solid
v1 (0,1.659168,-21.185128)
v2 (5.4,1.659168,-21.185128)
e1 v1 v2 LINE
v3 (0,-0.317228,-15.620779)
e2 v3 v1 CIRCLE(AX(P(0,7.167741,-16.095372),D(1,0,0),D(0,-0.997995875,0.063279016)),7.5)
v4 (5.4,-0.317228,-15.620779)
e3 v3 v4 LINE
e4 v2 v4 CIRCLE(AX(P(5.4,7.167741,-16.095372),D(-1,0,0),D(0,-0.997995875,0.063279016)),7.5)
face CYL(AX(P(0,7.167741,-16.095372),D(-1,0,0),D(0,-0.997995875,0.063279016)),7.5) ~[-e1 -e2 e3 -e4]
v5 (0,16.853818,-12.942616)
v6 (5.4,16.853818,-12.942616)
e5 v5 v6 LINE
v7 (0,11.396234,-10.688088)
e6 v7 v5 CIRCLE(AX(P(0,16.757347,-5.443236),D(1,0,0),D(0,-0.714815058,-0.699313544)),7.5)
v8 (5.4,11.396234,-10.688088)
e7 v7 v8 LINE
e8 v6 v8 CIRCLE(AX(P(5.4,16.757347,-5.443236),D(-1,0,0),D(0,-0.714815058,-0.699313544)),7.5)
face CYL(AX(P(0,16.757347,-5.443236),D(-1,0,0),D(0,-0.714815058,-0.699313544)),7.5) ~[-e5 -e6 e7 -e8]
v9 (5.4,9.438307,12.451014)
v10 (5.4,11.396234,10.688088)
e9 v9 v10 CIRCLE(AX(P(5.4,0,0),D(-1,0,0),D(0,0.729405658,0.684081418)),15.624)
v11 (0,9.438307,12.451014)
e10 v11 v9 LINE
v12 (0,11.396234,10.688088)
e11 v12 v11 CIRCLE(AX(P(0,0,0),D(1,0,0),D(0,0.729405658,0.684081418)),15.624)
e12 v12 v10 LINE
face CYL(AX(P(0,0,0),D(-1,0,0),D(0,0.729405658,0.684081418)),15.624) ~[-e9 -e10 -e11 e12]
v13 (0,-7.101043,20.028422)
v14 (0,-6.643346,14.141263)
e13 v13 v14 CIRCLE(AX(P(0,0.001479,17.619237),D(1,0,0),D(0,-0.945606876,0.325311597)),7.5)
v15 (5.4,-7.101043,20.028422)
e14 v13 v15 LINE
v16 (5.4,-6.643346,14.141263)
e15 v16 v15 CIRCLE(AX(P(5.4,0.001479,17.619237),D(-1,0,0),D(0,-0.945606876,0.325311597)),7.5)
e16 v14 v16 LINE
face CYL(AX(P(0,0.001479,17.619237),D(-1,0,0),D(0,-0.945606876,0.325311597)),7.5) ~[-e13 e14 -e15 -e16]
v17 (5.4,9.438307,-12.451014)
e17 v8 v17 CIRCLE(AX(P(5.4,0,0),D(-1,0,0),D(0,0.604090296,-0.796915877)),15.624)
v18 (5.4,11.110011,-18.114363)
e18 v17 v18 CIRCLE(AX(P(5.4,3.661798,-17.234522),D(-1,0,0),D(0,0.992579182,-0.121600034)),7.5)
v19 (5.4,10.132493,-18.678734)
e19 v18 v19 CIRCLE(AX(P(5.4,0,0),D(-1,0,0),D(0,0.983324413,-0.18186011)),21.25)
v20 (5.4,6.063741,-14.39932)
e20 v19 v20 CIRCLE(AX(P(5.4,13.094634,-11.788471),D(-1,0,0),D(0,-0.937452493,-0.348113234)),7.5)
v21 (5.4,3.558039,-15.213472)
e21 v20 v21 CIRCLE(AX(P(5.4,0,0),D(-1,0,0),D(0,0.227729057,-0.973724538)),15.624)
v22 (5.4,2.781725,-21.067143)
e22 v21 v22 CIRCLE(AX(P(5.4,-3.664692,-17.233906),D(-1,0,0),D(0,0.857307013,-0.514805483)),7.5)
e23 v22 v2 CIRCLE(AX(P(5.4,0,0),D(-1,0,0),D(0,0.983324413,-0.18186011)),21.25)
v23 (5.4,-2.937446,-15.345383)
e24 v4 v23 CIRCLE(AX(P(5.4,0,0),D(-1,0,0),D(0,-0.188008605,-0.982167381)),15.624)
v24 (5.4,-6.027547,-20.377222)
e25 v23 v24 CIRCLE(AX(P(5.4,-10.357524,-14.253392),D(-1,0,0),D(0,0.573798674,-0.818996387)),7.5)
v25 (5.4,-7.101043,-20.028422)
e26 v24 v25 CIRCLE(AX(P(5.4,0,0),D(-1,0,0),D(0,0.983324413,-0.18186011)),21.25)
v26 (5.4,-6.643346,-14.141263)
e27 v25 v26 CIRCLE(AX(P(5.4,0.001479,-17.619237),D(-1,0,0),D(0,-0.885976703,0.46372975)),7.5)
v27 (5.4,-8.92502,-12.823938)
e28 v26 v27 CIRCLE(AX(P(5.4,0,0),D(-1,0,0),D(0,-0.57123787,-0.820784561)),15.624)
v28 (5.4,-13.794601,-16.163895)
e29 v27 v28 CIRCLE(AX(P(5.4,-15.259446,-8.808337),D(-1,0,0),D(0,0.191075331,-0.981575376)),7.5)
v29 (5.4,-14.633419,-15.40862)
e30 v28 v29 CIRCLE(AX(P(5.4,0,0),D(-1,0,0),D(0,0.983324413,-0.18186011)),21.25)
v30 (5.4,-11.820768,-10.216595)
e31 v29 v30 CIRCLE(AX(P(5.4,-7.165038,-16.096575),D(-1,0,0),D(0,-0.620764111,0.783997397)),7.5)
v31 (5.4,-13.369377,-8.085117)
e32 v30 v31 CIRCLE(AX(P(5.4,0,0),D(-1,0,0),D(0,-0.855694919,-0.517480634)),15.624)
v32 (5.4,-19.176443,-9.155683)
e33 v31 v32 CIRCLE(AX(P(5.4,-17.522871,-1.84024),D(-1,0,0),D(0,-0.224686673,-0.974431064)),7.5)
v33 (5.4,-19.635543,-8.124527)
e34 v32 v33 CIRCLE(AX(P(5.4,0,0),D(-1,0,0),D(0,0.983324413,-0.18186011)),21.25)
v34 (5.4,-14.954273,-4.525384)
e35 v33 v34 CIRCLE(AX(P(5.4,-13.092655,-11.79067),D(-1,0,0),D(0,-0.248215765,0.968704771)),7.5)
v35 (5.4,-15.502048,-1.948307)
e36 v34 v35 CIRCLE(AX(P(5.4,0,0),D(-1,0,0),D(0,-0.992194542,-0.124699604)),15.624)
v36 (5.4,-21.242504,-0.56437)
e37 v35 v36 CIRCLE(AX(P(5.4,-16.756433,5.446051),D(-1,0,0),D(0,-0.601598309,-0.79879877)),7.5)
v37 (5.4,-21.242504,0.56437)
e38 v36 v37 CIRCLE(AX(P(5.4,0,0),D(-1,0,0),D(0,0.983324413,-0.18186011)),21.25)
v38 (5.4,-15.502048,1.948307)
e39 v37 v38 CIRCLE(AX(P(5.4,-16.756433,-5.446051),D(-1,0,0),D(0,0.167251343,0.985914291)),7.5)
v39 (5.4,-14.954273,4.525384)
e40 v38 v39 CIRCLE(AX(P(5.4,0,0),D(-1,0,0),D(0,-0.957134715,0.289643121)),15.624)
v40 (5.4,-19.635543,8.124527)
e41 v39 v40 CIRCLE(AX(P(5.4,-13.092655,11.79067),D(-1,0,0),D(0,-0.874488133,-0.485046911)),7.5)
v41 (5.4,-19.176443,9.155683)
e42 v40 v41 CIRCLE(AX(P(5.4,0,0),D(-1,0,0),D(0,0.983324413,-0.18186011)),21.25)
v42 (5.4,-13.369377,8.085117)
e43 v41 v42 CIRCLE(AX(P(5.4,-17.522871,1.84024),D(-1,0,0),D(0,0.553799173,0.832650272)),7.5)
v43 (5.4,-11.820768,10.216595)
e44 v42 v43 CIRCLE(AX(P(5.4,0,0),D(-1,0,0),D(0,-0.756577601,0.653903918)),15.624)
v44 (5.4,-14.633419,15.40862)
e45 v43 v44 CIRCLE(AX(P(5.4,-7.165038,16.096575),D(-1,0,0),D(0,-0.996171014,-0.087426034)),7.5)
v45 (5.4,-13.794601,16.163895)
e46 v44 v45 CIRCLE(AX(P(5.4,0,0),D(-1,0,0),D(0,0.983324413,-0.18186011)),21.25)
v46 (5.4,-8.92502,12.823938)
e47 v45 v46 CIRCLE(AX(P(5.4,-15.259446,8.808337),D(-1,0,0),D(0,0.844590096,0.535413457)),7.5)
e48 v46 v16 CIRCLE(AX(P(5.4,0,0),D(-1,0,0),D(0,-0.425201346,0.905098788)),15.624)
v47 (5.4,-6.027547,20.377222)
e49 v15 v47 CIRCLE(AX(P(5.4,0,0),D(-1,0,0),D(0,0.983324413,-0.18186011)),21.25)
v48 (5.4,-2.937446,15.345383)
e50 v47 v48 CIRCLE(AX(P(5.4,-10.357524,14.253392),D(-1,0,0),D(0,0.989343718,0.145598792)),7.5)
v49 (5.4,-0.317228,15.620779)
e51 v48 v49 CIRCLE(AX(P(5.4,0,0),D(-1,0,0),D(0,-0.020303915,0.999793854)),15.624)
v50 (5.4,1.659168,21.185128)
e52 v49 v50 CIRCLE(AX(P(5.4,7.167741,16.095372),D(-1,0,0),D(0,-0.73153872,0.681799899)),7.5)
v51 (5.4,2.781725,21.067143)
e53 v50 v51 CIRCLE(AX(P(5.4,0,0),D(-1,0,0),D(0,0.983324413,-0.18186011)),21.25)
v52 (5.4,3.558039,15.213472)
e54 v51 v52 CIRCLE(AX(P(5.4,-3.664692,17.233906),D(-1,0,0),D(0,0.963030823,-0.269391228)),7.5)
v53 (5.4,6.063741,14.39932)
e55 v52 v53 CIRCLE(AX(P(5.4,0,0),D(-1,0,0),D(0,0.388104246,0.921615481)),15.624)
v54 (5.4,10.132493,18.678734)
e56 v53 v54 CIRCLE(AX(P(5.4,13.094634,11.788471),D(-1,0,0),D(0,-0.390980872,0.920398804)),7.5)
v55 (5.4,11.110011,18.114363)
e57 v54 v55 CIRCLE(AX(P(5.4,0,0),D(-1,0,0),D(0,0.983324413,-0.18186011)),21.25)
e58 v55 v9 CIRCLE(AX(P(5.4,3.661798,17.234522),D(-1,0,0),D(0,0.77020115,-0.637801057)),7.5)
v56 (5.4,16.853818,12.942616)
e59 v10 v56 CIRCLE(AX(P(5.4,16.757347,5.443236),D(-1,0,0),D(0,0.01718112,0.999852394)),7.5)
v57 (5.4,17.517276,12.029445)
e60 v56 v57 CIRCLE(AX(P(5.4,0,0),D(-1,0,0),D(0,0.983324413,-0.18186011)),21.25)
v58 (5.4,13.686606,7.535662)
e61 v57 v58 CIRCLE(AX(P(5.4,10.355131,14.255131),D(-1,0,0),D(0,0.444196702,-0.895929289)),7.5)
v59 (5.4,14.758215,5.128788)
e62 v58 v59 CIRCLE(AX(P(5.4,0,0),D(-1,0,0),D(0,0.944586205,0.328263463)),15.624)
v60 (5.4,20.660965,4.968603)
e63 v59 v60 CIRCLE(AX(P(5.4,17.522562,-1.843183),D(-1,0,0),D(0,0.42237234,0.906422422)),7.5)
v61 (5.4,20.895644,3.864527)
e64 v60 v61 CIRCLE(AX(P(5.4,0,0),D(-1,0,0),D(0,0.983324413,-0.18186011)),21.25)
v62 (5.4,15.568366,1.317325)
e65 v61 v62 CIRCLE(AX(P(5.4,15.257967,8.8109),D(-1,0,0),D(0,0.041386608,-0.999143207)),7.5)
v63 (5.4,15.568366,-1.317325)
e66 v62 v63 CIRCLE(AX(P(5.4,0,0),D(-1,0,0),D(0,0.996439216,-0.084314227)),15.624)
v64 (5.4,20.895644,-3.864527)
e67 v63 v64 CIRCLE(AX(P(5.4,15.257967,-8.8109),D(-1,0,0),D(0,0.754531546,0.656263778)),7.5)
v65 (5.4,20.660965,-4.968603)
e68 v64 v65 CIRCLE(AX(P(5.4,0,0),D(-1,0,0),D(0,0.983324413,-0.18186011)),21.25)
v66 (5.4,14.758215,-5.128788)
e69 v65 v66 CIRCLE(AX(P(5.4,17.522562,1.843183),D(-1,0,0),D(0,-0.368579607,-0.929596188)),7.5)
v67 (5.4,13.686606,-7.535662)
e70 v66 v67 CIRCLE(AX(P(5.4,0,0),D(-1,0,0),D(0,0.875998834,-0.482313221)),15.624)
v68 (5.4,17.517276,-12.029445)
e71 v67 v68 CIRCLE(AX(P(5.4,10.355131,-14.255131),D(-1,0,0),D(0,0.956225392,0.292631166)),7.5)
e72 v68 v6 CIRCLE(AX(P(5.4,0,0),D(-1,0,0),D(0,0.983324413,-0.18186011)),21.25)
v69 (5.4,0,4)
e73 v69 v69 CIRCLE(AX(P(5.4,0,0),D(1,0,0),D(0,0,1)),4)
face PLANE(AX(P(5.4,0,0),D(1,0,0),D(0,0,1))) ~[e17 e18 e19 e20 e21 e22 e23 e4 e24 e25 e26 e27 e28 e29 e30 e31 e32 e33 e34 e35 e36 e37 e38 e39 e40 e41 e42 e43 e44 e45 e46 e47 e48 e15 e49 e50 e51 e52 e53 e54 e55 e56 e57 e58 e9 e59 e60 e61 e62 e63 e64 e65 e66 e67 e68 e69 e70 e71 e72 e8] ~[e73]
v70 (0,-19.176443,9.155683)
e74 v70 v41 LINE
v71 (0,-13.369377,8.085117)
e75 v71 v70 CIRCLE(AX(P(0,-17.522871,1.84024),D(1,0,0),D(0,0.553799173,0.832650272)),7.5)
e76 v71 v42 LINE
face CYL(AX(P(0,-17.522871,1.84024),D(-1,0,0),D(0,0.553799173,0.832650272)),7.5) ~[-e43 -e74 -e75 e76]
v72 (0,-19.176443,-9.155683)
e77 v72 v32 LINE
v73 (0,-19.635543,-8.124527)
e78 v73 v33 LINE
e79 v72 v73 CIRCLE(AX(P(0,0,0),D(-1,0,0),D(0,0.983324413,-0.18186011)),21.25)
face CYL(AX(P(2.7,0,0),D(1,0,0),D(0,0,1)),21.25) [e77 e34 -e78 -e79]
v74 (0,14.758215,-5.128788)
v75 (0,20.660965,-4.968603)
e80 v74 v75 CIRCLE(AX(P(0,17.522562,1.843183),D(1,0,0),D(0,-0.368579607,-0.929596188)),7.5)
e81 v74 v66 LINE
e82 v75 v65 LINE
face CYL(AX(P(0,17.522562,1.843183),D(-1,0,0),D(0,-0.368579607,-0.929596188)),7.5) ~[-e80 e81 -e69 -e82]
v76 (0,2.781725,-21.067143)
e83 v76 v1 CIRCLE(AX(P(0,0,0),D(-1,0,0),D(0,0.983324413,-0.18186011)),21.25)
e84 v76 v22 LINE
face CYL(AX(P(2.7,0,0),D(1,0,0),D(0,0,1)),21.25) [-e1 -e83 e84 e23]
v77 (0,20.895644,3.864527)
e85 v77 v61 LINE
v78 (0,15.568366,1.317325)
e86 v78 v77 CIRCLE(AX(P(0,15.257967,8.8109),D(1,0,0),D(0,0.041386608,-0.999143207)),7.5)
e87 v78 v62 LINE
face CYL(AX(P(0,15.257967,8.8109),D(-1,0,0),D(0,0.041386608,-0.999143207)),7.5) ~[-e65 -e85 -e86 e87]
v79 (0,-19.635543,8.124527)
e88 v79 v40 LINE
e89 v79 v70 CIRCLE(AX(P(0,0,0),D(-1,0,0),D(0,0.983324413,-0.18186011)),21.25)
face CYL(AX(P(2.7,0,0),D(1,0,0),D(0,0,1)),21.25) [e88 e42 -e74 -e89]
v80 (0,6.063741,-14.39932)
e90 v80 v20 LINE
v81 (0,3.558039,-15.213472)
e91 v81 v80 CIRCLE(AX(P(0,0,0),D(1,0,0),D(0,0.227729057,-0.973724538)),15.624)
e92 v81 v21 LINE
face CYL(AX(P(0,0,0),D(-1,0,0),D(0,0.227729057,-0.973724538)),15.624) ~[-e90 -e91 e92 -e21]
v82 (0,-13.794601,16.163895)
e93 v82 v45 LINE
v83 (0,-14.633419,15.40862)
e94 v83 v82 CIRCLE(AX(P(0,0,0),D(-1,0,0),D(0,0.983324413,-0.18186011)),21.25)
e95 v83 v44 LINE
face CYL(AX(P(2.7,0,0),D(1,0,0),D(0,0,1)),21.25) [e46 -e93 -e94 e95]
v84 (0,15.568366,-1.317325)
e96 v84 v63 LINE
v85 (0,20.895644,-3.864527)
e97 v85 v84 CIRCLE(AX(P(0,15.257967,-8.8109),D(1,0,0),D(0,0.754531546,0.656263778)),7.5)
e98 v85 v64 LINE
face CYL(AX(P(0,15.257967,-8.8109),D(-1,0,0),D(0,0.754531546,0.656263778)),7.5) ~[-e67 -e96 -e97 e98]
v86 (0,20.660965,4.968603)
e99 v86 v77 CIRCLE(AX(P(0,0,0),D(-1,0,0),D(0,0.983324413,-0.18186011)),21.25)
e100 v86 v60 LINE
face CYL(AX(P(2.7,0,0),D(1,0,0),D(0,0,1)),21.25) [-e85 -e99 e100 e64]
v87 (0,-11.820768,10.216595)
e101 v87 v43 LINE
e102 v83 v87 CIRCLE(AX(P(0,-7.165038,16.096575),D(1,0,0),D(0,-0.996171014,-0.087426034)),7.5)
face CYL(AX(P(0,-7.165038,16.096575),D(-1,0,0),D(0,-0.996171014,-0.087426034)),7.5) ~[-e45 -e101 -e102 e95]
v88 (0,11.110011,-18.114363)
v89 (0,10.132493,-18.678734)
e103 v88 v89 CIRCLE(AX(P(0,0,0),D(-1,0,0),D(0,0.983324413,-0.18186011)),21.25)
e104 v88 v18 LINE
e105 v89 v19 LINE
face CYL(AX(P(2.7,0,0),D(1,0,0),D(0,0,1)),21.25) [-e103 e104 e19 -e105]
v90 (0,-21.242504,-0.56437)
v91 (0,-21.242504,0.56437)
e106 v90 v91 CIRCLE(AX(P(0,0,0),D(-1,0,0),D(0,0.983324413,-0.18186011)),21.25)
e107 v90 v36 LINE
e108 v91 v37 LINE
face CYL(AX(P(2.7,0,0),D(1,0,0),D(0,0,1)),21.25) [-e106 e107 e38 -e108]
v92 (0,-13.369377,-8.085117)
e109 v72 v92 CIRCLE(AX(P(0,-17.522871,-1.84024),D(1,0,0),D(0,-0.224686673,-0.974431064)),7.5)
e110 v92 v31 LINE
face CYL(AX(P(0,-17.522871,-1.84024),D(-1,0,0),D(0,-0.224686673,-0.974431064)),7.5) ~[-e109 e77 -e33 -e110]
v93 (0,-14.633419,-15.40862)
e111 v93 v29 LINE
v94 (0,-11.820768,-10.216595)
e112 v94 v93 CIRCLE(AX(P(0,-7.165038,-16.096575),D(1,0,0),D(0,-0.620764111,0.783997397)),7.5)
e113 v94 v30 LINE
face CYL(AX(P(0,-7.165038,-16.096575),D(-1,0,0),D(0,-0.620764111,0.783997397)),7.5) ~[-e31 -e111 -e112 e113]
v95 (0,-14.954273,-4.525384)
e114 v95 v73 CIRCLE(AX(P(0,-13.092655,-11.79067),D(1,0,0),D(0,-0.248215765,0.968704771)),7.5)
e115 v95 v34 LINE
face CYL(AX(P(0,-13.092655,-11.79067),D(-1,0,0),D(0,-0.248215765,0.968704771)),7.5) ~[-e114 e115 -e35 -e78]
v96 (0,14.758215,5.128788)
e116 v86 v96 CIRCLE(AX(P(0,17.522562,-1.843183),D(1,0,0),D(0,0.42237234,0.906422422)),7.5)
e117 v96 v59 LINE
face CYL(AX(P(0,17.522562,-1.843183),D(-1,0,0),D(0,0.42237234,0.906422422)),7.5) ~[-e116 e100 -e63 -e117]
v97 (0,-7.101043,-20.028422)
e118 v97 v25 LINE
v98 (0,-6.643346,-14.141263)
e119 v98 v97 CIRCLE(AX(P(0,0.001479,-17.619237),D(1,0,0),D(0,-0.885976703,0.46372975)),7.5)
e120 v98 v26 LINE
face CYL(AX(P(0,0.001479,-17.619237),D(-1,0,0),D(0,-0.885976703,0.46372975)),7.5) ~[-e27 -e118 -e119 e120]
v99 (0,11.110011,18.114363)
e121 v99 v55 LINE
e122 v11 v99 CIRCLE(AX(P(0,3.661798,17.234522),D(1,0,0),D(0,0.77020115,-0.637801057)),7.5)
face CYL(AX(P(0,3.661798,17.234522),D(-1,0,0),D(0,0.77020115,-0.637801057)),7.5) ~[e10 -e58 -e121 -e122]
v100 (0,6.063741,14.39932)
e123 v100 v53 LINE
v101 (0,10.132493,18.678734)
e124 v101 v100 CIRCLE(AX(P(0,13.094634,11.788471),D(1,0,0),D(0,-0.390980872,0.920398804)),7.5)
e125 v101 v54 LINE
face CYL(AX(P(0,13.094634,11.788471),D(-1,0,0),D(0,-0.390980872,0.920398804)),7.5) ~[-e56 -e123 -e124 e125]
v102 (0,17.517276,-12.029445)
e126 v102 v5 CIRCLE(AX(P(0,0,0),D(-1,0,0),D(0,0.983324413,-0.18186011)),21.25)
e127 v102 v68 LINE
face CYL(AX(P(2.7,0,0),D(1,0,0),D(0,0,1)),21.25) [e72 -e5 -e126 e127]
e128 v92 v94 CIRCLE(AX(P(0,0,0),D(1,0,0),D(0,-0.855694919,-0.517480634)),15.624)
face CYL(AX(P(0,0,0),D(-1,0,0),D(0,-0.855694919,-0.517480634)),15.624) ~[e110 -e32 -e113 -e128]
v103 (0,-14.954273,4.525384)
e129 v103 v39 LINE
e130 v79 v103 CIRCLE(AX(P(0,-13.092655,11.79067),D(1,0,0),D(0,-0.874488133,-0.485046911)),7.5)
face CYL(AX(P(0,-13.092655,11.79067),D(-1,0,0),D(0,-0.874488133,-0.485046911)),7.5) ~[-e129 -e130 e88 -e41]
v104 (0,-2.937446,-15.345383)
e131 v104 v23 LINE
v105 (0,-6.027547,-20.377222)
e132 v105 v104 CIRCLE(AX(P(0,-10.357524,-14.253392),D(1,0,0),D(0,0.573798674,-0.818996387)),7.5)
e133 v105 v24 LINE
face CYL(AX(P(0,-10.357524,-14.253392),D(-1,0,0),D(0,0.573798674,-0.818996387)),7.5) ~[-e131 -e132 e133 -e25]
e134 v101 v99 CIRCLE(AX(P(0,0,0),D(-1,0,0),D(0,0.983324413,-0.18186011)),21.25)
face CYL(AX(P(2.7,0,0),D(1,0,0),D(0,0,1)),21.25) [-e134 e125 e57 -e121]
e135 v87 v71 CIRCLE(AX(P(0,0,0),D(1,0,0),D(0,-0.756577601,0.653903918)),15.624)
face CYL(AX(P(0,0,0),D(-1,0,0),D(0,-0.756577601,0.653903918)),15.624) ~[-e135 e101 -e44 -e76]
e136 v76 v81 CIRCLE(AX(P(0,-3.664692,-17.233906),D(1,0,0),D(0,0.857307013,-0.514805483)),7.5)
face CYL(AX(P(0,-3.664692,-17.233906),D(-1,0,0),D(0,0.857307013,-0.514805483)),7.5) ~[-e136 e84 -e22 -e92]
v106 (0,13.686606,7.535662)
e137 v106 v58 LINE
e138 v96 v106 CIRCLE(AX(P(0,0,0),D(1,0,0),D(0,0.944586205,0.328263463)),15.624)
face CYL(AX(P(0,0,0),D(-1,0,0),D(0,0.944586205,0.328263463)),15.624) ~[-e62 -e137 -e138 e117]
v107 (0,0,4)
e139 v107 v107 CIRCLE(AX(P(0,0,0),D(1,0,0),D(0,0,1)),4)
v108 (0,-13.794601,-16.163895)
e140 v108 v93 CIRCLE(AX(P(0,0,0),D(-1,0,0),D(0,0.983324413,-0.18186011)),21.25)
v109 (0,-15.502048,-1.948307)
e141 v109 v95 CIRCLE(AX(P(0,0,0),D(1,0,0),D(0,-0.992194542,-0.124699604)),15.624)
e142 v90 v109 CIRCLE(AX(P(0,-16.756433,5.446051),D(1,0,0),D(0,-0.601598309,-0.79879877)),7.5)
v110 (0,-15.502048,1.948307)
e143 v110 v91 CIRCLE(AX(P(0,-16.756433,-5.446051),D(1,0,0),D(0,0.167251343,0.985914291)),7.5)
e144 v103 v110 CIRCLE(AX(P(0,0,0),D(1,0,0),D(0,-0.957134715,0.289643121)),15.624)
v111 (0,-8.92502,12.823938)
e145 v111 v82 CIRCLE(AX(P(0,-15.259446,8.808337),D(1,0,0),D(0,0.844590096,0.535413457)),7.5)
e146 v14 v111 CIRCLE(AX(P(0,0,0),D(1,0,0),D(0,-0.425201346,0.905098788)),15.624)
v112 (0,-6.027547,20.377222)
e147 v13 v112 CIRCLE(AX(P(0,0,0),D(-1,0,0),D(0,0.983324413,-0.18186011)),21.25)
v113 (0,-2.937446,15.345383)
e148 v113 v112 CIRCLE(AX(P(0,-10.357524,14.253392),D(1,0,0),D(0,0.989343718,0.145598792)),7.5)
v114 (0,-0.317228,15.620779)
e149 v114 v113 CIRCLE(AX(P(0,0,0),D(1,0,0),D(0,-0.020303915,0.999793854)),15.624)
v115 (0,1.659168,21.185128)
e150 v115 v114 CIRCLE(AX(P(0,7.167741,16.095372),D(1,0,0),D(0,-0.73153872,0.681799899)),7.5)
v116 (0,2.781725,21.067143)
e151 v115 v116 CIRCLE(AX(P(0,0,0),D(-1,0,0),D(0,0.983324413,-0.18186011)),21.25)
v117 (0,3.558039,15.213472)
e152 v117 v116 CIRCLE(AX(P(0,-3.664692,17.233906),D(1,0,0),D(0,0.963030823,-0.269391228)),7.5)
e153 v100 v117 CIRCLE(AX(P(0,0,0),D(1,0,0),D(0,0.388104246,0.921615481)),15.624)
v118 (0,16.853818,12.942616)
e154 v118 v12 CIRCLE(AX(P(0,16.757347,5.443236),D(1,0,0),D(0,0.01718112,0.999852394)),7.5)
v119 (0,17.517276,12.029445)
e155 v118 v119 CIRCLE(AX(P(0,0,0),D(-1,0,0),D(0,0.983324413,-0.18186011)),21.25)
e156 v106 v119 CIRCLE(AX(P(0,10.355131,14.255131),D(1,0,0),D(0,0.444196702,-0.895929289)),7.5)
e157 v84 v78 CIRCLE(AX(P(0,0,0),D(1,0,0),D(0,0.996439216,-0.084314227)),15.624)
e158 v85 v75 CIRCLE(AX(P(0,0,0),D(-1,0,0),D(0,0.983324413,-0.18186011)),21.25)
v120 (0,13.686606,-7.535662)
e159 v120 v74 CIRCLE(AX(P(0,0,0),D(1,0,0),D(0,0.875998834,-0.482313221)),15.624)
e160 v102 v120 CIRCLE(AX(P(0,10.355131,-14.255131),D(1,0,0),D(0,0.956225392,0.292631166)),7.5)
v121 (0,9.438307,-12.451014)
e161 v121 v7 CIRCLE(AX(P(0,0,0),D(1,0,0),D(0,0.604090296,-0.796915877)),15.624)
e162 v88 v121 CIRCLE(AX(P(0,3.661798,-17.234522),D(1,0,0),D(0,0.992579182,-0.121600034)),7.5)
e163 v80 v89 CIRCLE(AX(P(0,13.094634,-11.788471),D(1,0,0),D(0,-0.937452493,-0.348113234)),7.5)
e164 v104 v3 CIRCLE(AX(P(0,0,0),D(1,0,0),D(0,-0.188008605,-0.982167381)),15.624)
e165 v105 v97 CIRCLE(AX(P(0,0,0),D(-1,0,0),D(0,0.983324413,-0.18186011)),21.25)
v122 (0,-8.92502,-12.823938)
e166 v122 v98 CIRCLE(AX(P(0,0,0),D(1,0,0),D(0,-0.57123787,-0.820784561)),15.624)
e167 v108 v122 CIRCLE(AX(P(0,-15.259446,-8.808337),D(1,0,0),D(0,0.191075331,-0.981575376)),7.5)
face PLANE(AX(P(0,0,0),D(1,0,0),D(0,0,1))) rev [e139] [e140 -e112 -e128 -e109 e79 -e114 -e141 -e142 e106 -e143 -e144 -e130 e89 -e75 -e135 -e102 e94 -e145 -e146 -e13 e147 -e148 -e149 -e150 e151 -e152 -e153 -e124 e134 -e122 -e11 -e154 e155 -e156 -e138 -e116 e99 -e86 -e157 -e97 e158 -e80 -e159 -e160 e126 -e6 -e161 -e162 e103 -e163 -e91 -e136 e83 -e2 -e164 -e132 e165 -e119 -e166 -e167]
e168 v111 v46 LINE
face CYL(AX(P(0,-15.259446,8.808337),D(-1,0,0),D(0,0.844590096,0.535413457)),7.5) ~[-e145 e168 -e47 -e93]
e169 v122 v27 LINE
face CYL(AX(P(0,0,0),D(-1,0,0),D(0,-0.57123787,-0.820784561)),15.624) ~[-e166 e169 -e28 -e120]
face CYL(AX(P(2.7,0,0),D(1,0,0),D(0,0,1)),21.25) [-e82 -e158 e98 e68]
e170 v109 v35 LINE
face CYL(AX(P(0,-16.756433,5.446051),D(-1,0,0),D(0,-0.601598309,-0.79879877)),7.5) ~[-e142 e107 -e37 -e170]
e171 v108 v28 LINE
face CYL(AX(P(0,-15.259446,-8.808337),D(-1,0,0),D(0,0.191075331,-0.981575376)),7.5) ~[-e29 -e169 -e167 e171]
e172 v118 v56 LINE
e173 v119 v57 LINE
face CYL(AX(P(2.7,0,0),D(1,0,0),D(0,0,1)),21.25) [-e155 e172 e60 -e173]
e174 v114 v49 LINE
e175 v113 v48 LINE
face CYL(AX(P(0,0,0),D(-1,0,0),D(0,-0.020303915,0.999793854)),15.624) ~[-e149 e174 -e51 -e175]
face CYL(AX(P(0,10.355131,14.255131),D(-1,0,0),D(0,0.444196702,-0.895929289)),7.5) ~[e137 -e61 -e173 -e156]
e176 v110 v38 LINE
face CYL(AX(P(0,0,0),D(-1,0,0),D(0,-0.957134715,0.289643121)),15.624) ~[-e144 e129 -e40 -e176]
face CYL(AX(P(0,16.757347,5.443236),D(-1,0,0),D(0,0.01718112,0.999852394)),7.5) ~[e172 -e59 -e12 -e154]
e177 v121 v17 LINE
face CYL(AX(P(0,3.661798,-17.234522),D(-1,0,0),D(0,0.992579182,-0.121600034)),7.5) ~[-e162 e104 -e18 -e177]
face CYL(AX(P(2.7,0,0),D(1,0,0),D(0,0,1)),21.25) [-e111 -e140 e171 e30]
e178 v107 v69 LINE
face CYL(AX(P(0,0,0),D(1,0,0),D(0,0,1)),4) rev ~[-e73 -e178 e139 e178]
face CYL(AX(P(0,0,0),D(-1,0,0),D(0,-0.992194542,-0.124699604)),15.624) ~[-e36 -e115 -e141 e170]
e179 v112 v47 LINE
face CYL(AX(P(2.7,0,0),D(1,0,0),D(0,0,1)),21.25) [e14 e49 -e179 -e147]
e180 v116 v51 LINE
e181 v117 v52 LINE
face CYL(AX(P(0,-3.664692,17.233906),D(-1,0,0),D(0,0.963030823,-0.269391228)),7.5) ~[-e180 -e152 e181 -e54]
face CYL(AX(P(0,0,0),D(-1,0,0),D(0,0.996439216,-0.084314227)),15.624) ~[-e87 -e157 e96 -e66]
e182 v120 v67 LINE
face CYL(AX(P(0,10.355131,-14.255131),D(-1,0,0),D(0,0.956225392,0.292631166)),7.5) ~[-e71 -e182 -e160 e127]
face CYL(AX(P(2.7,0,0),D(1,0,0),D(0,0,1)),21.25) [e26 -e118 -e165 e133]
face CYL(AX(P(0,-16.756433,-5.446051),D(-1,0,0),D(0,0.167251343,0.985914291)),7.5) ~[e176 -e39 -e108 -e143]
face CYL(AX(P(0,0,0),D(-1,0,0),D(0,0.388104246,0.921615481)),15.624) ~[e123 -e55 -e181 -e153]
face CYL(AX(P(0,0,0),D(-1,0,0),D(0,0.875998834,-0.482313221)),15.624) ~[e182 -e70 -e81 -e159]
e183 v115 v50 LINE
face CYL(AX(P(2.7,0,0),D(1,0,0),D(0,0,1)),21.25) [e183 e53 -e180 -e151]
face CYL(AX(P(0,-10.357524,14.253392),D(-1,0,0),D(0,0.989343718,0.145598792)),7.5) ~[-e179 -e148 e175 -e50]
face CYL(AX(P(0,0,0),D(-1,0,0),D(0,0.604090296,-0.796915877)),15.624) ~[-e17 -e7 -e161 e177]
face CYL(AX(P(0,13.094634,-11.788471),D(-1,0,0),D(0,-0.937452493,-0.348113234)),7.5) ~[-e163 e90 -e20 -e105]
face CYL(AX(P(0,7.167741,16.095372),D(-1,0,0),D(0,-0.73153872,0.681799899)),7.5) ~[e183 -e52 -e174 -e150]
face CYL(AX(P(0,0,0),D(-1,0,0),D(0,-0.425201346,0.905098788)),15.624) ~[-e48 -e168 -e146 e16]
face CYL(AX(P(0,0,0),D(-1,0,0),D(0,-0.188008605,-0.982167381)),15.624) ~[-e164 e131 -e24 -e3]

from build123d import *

# Parameters (mm, degrees)
BASPROSKE_W     = 5.4
BASPROSKE_H     = 21.25
TOOTHCUT_DEPTH  = 31.533342431
TEETHCUTS_COUNT = 15
TEETHCUTS_ANGLE = 336
BORSKE_R        = 4
BORE_DEPTH      = 50.0000508


with BuildPart() as part:
    # BasProSke → Base-Revolve (revolve)
    with BuildSketch(Plane(origin=(0, 0, 0), x_dir=(1, 0, 0), z_dir=(0, 1, 0)), mode=Mode.PRIVATE) as base_revolve_sk:
        with Locations((2.7, 10.625)):
            Rectangle(BASPROSKE_W, BASPROSKE_H)
    revolve(base_revolve_sk.sketch.rotate(Axis((-10, 0, 0), (1, 0, 0)), 180), axis=Axis((-10, 0, 0), (1, 0, 0)))

    # TooCutSke → ToothCut (cut, through all)
    with BuildSketch(Plane(origin=(0, 0, 0), x_dir=(0, 0, -1), z_dir=(1, 0, 0))):
        with BuildLine():
            ThreePointArc((1.317325472, 15.568366311), (0, 15.624), (-1.317325472, 15.568366311))
            ThreePointArc((-1.317325472, 15.568366311), (-2.05158513, 18.507838886), (-3.888921189, 20.916953343))
            ThreePointArc((-3.888921189, 20.916953343), (0, 21.2754), (3.888921189, 20.916953343))
            ThreePointArc((3.888921189, 20.916953343), (2.05158513, 18.507838886), (1.317325472, 15.568366311))
        make_face()
    toothcut = extrude(amount=TOOTHCUT_DEPTH, mode=Mode.SUBTRACT)

    # TeethCuts: ToothCut ×15 about axis
    teethcuts_axis = Axis((-10, 0, 0), (1, 0, 0))
    for i in range(1, TEETHCUTS_COUNT):
        add(toothcut.rotate(teethcuts_axis, i * TEETHCUTS_ANGLE / (TEETHCUTS_COUNT - 1)), mode=Mode.SUBTRACT)

    # BorSke → Bore (cut, symmetric)
    with BuildSketch(Plane(origin=(0, 0, 0), x_dir=(0, 0, -1), z_dir=(1, 0, 0))):
        with Locations(Location((0, 0, 0), (0, 0, 180))):
            Circle(BORSKE_R)
    extrude(amount=BORE_DEPTH, both=True, mode=Mode.SUBTRACT)


solid = part.part
